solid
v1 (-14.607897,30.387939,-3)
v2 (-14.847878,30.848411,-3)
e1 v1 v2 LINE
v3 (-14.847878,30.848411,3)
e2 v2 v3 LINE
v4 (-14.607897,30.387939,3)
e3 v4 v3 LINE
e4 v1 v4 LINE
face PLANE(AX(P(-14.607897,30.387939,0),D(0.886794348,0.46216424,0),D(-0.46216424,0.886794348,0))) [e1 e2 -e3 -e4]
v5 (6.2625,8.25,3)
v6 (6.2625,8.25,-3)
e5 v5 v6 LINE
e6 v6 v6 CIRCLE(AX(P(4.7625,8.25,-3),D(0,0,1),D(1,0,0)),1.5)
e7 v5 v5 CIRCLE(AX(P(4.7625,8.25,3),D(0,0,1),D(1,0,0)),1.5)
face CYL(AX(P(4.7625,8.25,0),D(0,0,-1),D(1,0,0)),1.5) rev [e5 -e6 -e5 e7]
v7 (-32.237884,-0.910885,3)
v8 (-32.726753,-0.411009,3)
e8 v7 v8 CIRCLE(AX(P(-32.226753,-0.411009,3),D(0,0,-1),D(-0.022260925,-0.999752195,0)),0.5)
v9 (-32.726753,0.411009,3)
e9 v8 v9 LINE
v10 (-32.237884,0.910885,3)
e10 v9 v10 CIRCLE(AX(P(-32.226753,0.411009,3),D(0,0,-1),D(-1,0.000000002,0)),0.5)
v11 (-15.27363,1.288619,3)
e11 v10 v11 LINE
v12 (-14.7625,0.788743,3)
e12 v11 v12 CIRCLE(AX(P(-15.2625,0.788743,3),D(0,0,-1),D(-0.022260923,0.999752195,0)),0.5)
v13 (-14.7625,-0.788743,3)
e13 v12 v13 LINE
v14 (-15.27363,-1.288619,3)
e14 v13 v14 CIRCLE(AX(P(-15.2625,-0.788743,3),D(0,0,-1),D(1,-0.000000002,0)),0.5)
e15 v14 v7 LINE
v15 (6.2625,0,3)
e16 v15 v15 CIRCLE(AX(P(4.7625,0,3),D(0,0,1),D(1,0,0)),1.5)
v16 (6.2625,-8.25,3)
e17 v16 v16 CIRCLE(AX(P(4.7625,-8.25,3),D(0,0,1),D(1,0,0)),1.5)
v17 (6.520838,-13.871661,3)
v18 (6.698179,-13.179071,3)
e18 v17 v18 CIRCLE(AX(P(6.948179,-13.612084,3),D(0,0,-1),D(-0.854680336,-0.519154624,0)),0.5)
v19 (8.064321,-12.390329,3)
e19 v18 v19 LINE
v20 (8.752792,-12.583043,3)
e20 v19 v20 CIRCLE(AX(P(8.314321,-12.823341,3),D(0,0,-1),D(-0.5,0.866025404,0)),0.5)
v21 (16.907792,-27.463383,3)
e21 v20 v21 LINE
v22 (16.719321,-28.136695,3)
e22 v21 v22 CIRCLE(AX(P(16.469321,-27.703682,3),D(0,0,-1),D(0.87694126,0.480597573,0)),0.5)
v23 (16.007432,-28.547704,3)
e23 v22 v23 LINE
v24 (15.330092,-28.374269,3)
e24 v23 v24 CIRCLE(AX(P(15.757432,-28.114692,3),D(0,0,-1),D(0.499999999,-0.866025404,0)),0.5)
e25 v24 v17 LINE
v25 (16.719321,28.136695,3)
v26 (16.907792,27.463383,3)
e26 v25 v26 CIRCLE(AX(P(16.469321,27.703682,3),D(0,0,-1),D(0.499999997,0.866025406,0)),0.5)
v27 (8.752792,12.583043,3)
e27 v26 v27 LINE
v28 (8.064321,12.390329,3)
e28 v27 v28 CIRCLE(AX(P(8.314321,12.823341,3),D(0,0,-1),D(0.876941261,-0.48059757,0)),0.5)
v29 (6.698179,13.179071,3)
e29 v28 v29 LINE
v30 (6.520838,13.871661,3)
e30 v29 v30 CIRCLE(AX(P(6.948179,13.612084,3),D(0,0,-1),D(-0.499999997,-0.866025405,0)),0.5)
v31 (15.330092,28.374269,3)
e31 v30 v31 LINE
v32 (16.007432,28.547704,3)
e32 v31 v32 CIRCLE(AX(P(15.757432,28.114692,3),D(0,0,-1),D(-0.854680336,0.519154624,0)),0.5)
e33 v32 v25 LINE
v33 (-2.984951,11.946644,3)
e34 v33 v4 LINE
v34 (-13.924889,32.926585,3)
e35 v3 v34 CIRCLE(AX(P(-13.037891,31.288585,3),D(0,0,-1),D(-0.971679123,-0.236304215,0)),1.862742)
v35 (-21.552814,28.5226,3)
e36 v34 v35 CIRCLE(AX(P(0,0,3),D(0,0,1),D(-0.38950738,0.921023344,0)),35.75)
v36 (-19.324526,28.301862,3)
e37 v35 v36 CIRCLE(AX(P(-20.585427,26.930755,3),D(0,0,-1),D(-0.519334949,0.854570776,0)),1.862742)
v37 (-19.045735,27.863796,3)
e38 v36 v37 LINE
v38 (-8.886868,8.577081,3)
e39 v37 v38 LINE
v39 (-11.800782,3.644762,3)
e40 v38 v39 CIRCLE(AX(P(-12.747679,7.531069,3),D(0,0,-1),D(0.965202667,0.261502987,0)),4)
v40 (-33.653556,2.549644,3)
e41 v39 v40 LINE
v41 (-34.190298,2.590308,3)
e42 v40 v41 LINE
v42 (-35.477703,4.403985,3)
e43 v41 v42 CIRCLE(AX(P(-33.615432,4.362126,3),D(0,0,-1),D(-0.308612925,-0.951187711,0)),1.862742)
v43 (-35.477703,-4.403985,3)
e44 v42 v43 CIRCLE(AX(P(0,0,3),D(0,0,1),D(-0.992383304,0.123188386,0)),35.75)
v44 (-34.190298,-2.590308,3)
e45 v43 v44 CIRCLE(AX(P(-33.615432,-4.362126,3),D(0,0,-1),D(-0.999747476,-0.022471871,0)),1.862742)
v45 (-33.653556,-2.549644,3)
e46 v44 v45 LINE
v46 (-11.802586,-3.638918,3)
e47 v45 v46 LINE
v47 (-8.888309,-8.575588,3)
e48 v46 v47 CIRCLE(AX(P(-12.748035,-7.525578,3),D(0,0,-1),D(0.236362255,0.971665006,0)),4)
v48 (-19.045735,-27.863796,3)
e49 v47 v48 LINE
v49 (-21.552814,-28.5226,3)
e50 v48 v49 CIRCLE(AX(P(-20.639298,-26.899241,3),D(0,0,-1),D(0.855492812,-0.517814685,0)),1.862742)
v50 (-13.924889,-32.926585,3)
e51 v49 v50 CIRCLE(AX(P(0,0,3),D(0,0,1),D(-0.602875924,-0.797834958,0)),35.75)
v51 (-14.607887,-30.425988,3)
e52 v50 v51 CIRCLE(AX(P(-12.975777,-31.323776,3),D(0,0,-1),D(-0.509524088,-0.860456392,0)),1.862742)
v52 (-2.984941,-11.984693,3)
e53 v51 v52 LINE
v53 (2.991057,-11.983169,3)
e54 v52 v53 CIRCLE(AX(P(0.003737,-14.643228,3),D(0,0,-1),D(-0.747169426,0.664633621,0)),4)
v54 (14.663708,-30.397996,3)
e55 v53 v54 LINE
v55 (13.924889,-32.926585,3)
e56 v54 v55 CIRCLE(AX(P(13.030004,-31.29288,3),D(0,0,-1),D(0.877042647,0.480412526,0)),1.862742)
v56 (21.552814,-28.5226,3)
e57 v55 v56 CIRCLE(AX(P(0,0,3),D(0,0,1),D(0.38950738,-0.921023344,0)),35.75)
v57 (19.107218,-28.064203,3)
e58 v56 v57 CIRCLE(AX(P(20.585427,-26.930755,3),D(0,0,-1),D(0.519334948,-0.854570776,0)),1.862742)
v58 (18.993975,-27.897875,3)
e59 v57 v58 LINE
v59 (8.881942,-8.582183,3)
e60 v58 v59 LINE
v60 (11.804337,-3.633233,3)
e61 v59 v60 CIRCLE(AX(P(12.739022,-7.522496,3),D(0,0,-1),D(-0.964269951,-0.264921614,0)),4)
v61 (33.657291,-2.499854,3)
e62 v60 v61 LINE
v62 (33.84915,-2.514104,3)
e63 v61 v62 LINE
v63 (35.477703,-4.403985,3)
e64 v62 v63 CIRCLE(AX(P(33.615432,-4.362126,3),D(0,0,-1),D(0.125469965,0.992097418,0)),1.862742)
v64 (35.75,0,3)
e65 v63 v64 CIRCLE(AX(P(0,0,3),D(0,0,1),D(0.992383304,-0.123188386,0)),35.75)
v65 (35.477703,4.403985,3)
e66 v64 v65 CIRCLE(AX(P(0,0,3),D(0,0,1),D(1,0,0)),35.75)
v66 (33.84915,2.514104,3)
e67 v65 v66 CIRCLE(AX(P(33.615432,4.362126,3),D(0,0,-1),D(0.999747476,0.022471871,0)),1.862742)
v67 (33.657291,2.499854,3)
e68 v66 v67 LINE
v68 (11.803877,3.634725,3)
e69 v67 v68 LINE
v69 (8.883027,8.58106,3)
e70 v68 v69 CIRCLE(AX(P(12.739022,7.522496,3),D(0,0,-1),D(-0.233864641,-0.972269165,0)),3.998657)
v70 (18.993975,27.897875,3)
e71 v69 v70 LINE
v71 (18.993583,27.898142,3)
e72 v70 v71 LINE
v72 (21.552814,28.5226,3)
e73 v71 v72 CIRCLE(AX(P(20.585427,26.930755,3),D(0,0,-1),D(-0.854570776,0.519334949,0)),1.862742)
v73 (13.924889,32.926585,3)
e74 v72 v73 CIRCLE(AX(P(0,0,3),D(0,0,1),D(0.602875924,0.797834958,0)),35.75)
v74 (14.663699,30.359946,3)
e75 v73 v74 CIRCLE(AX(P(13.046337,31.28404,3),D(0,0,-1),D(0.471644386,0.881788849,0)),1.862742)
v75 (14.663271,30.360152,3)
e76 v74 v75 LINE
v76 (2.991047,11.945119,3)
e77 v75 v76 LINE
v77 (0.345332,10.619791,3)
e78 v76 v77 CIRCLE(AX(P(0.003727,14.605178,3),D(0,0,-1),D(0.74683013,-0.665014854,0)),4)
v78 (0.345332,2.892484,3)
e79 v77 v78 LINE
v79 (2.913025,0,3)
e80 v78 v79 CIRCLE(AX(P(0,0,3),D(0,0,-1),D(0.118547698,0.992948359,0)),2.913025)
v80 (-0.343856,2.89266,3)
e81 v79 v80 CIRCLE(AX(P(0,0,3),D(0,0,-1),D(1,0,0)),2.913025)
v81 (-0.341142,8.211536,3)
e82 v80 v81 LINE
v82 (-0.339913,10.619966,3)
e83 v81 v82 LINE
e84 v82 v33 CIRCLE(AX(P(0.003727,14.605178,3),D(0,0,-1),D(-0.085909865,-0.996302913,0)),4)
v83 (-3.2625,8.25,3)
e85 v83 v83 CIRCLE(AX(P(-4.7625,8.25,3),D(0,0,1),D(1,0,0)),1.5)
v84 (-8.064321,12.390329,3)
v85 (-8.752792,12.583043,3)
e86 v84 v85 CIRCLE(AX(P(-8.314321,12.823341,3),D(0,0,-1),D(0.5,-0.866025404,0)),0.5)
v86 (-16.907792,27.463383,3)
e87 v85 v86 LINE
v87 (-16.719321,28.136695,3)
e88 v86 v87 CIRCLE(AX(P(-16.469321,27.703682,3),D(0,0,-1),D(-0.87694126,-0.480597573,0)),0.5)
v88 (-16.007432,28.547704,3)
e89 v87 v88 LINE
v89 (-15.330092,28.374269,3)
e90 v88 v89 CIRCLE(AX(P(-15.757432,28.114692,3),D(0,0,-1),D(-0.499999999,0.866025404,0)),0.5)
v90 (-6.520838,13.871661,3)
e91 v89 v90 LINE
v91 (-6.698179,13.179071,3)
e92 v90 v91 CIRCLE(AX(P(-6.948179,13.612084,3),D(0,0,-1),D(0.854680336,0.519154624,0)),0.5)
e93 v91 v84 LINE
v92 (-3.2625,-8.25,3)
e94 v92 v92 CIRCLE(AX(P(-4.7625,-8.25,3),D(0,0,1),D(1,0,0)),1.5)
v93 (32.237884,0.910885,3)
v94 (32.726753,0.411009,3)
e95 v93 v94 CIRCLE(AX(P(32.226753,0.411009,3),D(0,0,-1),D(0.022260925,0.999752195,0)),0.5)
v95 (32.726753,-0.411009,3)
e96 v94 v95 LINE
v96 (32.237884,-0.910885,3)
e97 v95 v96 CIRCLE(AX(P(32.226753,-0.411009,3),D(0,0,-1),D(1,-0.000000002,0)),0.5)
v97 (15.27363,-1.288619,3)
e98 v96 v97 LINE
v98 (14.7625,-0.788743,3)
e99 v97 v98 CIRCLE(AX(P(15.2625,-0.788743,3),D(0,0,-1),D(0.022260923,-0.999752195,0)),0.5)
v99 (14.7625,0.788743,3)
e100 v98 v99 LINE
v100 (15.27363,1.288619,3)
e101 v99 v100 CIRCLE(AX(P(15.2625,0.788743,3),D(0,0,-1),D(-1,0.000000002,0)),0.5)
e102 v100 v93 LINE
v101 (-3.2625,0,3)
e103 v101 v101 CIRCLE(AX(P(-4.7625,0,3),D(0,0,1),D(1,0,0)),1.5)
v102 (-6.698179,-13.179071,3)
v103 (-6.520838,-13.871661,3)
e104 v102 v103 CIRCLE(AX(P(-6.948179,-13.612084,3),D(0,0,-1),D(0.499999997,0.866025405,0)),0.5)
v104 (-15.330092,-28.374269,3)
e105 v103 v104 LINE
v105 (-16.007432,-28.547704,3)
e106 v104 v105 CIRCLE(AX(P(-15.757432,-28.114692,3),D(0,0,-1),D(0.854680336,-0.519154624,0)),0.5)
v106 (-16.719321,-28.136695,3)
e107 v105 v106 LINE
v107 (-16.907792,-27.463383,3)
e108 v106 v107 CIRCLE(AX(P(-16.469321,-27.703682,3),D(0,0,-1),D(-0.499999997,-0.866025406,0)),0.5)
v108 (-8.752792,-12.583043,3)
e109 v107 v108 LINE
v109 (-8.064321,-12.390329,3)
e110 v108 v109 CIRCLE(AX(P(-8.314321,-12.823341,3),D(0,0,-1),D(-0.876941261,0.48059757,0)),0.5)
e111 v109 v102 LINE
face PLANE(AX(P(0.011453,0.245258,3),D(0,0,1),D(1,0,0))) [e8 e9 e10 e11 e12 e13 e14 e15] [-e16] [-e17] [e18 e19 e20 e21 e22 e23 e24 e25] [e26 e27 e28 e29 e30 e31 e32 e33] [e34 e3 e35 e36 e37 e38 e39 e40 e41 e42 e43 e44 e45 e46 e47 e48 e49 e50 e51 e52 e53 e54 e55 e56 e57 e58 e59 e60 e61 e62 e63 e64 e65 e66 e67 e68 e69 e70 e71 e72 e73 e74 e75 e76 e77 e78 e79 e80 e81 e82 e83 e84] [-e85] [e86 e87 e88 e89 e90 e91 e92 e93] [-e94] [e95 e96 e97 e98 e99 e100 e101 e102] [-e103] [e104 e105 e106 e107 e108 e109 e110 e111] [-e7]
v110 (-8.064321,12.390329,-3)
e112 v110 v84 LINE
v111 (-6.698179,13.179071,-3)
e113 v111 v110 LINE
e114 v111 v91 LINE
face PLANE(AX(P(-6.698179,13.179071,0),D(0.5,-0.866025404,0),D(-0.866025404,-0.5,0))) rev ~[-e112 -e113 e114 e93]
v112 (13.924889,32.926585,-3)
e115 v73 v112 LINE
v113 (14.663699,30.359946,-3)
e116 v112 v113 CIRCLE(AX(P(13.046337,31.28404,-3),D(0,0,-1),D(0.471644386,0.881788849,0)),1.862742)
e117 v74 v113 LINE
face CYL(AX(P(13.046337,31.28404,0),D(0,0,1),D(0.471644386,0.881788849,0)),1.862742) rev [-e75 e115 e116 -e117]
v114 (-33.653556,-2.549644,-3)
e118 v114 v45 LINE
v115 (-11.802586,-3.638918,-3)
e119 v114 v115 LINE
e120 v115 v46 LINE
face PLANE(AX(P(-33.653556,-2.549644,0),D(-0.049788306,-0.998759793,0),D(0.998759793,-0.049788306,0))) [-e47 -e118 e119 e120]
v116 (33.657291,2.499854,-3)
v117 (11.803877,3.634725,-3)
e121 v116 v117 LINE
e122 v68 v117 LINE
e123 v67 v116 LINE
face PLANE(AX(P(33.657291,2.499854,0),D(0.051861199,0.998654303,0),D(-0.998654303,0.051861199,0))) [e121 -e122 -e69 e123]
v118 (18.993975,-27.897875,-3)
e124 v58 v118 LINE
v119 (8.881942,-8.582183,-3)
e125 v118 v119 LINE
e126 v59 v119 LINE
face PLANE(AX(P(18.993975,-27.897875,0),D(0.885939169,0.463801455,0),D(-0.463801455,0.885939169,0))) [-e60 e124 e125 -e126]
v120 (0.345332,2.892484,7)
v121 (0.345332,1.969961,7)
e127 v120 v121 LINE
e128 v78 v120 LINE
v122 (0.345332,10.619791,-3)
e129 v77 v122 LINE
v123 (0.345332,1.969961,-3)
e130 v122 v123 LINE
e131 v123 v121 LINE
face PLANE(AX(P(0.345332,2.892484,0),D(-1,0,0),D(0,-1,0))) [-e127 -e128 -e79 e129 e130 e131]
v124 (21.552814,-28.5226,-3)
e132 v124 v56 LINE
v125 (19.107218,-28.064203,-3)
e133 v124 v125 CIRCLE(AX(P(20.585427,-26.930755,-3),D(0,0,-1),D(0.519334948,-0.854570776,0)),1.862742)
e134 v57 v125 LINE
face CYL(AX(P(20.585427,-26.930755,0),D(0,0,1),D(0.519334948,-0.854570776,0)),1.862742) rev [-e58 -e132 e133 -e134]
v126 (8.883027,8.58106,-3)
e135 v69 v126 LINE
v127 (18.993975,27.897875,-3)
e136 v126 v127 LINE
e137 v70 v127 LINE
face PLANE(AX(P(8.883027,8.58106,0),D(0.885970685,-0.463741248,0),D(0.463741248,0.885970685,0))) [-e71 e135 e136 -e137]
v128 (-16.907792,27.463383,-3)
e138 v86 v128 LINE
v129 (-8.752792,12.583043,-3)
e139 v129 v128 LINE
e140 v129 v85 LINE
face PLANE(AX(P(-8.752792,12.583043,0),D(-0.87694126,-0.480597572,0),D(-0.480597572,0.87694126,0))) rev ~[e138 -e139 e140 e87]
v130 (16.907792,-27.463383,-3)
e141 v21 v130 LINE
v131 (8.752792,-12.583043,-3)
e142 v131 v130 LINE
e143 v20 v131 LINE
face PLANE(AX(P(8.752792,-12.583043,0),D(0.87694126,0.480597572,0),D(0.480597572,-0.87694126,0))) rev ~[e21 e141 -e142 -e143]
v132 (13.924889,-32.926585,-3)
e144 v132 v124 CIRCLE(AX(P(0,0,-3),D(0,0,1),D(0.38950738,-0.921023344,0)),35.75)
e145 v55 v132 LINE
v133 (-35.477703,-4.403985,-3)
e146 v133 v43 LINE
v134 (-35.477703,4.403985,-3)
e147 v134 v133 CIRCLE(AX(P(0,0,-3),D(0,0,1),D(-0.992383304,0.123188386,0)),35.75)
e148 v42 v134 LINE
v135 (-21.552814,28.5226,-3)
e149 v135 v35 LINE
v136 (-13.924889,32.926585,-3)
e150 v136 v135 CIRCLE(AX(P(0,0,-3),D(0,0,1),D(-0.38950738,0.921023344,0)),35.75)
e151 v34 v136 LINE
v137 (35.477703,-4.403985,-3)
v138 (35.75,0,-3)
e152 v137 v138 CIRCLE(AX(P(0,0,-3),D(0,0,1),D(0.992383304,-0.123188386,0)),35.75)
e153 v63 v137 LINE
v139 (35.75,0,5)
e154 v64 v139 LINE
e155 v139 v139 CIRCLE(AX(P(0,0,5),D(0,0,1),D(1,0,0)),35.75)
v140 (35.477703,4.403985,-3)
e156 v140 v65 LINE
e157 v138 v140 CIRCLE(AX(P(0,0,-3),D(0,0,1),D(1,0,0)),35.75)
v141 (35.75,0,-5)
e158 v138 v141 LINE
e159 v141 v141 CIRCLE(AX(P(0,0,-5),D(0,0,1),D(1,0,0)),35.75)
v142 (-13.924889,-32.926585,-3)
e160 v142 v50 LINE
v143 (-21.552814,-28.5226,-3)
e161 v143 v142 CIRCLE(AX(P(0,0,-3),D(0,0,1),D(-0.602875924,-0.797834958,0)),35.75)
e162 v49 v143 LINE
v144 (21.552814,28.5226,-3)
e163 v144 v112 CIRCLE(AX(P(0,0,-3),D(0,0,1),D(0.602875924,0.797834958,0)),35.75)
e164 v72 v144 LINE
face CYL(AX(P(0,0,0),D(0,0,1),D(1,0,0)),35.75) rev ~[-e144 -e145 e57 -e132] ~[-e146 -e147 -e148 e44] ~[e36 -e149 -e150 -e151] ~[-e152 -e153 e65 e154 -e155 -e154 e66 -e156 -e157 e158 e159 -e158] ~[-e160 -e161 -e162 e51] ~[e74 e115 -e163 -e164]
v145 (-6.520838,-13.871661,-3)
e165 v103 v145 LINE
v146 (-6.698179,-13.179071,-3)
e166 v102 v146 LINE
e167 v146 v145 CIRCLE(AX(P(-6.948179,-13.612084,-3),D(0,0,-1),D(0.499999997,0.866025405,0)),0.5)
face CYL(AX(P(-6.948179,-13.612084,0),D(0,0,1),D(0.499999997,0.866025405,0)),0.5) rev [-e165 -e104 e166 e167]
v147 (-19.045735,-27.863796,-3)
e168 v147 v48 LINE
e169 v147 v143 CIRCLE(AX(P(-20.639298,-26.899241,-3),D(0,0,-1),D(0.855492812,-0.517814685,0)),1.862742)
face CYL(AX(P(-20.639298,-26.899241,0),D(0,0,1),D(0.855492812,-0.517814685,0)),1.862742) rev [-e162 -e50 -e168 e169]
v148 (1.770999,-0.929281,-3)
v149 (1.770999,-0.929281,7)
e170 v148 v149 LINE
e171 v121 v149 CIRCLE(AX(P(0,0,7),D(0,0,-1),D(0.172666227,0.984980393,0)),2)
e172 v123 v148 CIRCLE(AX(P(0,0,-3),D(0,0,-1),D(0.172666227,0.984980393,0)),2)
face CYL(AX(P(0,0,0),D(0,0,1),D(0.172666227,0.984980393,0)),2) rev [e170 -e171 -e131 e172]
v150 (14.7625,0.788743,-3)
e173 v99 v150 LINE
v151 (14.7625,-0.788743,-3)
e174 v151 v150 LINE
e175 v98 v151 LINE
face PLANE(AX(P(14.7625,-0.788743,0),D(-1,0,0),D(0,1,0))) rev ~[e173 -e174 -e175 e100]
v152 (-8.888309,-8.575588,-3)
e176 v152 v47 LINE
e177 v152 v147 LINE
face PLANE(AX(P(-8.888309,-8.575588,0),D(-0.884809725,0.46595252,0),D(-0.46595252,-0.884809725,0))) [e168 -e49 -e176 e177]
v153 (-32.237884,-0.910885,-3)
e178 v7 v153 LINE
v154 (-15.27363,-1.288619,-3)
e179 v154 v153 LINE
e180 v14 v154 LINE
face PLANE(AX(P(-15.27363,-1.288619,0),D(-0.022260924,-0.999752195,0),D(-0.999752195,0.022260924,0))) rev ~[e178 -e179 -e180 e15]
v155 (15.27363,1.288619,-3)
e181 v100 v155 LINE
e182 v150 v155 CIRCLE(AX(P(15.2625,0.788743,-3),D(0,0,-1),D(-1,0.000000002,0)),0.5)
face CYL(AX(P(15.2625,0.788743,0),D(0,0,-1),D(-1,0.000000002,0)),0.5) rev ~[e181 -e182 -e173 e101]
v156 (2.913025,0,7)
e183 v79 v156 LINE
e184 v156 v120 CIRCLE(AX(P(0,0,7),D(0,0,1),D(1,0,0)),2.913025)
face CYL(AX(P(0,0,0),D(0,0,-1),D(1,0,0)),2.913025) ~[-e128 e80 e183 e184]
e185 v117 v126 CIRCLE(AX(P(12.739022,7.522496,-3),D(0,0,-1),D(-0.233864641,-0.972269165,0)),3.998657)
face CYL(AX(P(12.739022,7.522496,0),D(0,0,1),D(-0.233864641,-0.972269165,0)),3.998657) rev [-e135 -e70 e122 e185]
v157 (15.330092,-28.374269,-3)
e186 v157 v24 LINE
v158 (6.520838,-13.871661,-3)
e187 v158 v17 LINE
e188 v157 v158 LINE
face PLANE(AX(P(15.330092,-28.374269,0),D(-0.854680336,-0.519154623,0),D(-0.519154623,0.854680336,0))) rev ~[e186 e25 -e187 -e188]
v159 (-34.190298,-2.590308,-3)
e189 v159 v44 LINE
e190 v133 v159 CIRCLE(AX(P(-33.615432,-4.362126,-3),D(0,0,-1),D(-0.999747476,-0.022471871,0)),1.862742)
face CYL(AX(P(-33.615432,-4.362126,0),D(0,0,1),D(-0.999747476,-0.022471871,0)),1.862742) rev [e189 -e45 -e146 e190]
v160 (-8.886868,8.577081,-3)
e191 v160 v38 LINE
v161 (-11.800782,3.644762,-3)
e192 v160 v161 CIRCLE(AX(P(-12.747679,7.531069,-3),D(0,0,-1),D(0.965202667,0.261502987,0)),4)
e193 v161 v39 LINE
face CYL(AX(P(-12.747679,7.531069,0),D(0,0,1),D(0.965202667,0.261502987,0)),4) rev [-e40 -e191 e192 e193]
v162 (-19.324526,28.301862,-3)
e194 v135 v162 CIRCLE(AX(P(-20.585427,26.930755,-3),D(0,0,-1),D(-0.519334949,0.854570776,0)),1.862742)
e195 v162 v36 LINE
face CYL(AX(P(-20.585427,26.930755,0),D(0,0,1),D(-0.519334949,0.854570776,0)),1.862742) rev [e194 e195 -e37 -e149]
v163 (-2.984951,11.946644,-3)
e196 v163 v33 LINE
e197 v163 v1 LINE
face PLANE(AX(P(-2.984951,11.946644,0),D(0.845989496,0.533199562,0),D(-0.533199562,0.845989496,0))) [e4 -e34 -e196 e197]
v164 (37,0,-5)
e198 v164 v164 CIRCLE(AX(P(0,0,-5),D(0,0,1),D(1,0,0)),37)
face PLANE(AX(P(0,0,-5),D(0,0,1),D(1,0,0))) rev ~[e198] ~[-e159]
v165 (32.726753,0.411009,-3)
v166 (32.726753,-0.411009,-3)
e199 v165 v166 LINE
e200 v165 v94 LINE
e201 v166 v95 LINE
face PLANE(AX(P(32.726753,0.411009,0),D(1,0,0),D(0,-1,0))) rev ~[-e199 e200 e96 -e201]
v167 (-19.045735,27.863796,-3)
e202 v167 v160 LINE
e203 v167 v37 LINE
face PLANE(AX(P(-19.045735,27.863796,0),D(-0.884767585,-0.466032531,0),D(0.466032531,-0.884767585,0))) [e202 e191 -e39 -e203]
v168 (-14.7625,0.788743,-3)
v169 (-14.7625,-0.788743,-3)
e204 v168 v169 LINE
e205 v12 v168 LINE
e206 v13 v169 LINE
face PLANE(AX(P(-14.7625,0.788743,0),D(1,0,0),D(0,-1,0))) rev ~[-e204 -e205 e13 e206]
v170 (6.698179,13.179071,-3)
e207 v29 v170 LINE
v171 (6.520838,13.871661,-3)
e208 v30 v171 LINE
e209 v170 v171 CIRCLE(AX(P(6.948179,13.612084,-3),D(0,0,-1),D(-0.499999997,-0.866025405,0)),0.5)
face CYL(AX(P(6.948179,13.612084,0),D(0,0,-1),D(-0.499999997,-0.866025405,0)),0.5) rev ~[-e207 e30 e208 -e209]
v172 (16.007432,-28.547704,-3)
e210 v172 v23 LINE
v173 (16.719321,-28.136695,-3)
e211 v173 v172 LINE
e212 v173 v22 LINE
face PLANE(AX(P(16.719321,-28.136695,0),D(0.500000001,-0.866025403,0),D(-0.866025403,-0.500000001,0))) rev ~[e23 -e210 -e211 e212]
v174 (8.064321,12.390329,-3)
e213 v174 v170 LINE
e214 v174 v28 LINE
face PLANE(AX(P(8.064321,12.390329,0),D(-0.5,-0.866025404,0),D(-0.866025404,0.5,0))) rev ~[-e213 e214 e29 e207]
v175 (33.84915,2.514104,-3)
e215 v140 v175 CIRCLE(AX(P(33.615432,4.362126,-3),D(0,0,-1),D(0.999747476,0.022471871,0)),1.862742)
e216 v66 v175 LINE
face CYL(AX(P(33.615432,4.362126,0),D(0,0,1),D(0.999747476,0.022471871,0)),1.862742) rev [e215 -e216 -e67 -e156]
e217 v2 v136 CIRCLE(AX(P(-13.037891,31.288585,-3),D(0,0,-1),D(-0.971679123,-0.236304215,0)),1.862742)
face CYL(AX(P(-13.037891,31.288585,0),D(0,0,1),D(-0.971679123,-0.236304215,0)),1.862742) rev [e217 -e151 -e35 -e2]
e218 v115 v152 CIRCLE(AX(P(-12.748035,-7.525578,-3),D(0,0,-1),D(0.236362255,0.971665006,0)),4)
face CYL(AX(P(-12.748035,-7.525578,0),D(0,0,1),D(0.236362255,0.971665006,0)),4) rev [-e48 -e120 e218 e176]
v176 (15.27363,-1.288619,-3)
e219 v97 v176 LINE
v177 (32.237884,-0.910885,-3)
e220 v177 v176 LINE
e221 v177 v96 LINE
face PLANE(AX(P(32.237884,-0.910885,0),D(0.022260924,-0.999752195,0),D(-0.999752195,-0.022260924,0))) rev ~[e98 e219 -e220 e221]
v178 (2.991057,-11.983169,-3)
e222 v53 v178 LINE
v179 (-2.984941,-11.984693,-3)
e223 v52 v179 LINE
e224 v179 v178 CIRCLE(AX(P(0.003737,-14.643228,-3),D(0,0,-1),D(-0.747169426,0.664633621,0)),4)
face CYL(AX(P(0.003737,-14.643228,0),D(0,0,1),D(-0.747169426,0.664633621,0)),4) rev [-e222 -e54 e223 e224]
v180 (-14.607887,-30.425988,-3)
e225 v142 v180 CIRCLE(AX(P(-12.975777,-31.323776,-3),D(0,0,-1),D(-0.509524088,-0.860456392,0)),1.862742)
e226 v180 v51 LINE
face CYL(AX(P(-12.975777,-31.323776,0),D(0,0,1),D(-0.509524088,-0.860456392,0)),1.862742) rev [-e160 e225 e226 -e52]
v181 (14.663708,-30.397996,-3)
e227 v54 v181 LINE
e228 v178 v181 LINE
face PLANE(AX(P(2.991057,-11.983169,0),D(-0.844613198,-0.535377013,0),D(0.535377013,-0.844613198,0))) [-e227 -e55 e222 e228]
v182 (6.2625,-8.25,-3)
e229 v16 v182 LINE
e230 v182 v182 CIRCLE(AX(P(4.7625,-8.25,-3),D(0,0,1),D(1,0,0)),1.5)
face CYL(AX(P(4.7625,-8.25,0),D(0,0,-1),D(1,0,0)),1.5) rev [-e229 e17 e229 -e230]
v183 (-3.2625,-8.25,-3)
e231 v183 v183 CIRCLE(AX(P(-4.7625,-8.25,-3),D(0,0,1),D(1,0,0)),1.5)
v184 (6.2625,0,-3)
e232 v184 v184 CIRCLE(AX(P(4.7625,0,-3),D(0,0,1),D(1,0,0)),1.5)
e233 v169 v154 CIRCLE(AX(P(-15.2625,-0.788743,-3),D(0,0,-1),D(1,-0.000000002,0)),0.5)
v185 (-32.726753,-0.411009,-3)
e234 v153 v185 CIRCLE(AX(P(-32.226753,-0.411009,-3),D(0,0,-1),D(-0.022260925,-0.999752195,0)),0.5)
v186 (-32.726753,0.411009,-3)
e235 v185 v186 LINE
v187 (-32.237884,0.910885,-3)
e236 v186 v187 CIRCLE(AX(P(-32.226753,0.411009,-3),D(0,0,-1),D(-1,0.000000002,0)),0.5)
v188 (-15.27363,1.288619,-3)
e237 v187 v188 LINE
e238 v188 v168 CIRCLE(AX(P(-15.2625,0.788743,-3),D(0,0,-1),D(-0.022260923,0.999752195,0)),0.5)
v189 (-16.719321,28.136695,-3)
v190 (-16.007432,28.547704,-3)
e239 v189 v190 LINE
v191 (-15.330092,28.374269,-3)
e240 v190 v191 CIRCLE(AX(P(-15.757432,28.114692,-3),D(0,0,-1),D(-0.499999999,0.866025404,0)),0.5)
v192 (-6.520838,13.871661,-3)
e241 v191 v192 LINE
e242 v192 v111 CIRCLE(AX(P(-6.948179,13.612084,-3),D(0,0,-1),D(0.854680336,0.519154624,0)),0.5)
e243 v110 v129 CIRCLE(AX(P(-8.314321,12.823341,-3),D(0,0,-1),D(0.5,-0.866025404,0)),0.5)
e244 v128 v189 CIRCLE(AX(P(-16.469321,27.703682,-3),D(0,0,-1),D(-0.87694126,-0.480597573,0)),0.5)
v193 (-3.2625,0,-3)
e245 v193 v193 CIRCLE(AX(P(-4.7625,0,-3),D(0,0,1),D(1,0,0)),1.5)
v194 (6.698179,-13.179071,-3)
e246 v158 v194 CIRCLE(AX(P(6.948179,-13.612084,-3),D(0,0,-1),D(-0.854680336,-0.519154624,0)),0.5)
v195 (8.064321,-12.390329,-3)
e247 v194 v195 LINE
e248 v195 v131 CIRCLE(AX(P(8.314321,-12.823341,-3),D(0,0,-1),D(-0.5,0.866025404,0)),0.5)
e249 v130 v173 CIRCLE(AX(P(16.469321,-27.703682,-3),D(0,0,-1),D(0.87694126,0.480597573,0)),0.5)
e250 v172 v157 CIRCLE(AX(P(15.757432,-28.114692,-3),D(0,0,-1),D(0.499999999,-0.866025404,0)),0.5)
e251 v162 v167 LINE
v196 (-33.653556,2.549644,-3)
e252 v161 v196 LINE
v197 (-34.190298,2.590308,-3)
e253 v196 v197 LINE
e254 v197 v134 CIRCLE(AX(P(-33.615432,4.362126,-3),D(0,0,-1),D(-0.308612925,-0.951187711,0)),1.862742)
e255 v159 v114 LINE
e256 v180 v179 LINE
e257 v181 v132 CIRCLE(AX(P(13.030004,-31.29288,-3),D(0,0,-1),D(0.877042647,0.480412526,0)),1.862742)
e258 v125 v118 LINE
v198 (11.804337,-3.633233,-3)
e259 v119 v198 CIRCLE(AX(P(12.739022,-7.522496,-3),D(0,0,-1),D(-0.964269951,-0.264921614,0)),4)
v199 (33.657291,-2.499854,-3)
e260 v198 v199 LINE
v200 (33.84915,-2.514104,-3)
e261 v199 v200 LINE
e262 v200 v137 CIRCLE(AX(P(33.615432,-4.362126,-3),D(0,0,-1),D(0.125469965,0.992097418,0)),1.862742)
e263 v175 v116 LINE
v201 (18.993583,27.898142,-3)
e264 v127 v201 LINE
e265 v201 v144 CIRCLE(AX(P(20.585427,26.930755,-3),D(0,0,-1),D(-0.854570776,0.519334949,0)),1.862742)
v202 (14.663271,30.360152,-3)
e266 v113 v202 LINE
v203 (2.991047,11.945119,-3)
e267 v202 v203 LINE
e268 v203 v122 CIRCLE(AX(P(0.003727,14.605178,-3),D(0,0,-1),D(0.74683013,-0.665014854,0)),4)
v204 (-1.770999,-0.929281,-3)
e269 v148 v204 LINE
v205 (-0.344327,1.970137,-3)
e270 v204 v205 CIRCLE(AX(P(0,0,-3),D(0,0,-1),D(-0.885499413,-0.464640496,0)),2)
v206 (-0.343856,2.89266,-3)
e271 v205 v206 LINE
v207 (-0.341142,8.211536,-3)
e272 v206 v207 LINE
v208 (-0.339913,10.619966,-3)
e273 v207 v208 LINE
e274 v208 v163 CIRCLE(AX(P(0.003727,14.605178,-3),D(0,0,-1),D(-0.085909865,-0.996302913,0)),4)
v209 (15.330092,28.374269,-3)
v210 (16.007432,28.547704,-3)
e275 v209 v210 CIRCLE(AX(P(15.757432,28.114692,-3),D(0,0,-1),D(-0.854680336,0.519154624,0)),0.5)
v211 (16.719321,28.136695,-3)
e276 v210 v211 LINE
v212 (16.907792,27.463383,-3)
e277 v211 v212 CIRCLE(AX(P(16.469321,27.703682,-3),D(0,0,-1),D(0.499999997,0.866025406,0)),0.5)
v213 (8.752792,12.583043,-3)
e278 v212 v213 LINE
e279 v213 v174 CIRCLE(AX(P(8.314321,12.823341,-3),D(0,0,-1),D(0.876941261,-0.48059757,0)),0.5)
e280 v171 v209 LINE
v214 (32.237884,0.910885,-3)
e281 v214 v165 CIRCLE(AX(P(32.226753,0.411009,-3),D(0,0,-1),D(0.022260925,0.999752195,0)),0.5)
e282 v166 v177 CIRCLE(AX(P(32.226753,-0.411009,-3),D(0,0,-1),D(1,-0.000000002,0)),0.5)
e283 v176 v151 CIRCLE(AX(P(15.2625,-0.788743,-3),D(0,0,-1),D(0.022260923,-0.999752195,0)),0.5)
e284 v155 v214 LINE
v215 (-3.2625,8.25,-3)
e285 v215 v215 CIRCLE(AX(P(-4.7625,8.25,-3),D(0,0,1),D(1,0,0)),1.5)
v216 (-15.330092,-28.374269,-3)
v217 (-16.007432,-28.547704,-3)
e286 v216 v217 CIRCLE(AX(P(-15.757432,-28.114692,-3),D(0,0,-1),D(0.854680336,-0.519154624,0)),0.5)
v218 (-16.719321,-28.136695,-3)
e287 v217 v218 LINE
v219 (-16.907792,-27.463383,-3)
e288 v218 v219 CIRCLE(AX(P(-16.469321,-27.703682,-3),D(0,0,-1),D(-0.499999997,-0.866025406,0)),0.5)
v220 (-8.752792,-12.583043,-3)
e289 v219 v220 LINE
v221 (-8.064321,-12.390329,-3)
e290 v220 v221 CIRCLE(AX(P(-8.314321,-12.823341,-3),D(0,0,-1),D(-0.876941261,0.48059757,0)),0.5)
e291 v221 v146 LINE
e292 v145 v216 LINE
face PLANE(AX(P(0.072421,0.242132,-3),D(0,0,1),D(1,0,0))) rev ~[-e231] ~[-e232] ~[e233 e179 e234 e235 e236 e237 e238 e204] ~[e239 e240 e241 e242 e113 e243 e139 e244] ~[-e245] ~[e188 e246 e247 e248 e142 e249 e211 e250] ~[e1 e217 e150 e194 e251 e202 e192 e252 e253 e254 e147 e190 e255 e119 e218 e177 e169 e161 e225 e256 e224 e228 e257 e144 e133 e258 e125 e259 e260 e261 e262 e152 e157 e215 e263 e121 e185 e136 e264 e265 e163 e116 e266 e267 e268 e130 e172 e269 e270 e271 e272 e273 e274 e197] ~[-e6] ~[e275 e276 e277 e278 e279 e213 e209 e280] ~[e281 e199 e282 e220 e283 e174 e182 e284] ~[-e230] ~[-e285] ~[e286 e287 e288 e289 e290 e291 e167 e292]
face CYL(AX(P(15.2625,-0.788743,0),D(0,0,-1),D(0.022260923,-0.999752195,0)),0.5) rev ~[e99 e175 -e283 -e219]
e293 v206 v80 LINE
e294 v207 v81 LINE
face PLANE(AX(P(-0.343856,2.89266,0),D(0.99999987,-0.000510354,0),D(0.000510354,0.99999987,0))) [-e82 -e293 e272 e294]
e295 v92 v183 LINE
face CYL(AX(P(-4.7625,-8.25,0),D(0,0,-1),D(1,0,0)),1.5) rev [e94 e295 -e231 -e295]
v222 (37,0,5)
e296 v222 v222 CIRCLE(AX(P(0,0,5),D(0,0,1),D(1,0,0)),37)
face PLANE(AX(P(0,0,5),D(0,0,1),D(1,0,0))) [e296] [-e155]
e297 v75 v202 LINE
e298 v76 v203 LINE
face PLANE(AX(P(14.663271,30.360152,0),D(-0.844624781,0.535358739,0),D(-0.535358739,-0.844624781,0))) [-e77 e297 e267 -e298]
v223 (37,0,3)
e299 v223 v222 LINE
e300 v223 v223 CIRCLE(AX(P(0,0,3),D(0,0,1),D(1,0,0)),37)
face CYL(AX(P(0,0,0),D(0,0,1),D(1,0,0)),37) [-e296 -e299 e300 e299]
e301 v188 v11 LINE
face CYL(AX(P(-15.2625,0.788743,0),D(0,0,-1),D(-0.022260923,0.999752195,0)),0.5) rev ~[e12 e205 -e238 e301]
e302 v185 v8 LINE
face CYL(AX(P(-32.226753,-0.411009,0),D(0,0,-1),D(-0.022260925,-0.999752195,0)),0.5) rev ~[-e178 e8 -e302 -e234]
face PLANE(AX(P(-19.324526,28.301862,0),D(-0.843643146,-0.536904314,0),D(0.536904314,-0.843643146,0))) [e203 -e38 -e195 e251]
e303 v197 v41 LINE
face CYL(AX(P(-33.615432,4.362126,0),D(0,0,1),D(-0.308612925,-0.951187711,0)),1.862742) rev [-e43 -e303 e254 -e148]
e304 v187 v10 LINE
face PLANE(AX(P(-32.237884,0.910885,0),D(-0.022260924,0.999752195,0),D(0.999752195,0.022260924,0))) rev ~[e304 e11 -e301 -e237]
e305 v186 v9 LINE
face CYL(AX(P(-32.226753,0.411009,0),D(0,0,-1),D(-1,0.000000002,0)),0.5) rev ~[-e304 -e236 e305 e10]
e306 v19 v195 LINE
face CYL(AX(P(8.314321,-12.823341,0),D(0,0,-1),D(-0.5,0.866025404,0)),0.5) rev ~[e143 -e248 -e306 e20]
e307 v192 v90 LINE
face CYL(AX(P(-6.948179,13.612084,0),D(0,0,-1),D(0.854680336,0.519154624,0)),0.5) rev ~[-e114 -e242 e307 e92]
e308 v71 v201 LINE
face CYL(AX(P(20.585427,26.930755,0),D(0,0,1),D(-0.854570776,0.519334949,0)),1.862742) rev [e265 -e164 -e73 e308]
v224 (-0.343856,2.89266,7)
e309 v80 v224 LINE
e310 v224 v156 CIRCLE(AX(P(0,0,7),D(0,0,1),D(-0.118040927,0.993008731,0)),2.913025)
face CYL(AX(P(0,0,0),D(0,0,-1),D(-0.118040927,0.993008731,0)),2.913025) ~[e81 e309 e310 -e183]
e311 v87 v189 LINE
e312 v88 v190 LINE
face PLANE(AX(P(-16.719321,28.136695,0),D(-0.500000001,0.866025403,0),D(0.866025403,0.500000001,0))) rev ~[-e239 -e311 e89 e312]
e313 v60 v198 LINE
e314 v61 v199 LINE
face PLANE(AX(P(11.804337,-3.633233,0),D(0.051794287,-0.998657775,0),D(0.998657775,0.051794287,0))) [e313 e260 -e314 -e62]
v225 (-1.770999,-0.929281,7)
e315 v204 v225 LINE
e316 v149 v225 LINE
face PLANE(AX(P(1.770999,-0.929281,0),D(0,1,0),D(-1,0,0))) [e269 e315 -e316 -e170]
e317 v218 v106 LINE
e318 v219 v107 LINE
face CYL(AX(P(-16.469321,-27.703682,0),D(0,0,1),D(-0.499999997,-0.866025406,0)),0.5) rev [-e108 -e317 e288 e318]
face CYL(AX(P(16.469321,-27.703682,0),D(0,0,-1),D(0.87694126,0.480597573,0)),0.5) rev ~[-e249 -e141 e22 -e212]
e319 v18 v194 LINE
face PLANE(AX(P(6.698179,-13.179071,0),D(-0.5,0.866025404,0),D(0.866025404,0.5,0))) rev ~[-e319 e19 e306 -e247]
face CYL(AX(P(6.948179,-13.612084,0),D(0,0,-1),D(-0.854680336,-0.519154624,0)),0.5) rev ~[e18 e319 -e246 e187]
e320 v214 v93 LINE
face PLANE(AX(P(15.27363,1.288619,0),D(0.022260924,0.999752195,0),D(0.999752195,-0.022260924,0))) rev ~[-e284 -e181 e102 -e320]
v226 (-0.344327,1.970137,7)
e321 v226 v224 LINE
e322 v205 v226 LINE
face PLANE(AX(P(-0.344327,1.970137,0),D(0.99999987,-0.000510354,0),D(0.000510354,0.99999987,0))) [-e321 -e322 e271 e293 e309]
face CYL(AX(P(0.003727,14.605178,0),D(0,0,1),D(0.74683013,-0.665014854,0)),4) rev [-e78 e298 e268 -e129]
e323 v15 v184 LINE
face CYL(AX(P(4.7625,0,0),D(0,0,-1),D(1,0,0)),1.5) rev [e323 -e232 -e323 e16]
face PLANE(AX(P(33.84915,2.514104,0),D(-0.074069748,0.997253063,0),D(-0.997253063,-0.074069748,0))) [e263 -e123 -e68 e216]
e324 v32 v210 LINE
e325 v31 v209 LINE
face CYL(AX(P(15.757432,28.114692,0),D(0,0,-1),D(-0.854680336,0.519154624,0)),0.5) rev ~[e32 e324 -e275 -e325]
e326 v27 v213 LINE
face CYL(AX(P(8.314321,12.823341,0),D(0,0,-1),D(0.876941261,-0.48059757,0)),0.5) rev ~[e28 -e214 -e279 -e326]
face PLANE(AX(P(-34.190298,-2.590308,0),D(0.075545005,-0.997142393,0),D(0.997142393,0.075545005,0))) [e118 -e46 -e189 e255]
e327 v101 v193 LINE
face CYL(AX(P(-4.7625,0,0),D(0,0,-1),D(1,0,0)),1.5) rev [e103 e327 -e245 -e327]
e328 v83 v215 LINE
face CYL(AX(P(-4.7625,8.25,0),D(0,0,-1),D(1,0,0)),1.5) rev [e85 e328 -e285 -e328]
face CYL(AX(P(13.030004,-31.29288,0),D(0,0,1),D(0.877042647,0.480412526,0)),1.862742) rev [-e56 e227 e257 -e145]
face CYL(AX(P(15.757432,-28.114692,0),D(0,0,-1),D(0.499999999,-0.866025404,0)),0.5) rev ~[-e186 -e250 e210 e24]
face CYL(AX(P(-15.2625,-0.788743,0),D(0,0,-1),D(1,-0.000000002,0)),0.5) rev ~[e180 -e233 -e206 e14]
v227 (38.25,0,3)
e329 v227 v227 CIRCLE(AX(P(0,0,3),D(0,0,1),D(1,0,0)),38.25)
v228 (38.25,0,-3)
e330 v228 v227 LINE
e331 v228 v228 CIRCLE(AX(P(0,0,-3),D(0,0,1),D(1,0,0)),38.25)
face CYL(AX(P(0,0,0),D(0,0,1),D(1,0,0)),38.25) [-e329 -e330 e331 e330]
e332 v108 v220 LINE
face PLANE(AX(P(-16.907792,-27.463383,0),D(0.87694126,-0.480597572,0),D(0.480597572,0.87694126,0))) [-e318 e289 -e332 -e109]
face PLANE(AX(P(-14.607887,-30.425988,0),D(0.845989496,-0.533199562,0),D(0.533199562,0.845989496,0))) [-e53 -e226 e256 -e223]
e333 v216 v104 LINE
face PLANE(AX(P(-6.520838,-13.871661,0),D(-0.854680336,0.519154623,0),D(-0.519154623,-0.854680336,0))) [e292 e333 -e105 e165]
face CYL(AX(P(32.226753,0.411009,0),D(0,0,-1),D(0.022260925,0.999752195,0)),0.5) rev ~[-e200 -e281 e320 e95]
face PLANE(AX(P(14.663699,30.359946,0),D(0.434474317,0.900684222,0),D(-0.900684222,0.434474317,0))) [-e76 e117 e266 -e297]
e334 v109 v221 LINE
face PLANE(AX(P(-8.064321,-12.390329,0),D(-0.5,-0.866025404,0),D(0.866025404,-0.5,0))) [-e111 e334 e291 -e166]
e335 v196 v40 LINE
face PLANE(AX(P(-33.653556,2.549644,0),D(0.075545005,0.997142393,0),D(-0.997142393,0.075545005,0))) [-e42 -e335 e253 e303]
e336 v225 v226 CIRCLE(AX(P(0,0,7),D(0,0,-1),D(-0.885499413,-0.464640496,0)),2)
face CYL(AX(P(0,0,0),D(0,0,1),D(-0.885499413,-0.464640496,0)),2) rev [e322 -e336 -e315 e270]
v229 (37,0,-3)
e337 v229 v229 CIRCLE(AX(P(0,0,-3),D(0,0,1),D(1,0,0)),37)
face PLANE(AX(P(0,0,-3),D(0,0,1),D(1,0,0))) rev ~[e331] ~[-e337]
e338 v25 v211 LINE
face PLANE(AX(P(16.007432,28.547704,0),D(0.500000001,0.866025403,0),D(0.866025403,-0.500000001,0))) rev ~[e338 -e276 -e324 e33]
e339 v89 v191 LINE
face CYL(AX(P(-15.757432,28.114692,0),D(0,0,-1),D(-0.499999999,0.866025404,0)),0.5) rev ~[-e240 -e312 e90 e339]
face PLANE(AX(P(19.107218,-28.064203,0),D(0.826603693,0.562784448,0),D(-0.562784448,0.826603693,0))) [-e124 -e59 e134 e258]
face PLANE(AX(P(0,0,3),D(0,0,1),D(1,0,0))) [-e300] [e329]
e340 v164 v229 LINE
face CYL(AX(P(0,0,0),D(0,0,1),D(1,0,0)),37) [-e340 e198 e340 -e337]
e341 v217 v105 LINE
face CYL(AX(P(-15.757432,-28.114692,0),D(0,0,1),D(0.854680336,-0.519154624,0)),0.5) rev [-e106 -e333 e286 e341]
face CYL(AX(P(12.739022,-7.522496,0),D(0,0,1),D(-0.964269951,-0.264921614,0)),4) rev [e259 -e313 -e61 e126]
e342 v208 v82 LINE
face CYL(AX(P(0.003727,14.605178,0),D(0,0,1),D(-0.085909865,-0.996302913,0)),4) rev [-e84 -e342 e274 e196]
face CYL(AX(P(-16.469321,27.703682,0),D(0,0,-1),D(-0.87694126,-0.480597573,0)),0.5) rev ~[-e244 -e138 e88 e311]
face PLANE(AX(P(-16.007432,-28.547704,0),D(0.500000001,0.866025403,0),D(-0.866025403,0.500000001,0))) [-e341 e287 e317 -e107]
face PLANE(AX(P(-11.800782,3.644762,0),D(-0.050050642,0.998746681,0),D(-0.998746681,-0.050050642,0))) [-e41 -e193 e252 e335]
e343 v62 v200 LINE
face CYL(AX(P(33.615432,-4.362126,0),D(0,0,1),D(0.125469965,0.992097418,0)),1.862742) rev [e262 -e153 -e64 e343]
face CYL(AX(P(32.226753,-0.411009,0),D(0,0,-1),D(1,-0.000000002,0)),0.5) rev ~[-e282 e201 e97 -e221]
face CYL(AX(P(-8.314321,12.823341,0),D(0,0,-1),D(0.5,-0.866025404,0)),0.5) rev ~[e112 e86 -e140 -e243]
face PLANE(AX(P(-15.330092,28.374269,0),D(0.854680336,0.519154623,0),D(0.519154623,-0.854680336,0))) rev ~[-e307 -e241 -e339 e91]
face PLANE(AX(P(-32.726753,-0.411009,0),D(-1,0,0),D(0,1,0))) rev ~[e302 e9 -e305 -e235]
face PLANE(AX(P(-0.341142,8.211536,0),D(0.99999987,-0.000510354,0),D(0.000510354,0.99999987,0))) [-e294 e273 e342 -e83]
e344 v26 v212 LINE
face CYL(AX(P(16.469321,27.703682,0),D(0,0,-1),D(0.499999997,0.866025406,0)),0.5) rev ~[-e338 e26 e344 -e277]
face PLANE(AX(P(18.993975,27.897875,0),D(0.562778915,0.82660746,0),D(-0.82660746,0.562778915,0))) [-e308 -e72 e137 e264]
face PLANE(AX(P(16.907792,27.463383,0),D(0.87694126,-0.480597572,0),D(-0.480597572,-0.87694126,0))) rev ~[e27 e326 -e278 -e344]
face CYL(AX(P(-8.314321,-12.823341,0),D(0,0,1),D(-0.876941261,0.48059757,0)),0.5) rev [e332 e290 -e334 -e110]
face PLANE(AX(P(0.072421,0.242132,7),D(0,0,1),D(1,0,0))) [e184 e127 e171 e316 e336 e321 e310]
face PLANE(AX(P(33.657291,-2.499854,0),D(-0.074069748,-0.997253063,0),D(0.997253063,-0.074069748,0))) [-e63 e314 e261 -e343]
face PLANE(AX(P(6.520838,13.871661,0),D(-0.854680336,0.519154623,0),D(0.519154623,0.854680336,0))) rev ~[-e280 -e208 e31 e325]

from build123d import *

# Parameters (mm, degrees)
IZIM1_R                          = 37
IZIM1_R_2                        = 35.75
Y_KSEKLIK_EKSTR_ZYON5_DEPTH      = 5
Y_KSEKLIK_EKSTR_ZYON5_DEPTH_BACK = 5
IZIM1_13_R                       = 38.25
IZIM1_13_R_2                     = 37
Y_KSEKLIK_EKSTR_ZYON6_DEPTH      = 3
Y_KSEKLIK_EKSTR_ZYON6_DEPTH_BACK = 3
IZIM1_14_R                       = 1.5
Y_KSEKLIK_EKSTR_ZYON7_DEPTH      = 3
Y_KSEKLIK_EKSTR_ZYON7_DEPTH_BACK = 3
Y_KSEKLIK_EKSTR_ZYON8_DEPTH      = 7
Y_KSEKLIK_EKSTR_ZYON8_DEPTH_BACK = 3


with BuildPart() as part:
    # izim1 → Y_kseklik-Ekstr_zyon5 (new body, two sides)
    with BuildSketch(Plane.XY) as y_kseklik_ekstr_zyon5_sk:
        Circle(IZIM1_R)
        Circle(IZIM1_R_2, mode=Mode.SUBTRACT)
    extrude(amount=Y_KSEKLIK_EKSTR_ZYON5_DEPTH)
    extrude(y_kseklik_ekstr_zyon5_sk.sketch, amount=-Y_KSEKLIK_EKSTR_ZYON5_DEPTH_BACK)

    # izim1_13 → Y_kseklik-Ekstr_zyon6 (add, two sides)
    with BuildSketch(Plane.XY) as y_kseklik_ekstr_zyon6_sk:
        Circle(IZIM1_13_R)
        Circle(IZIM1_13_R_2, mode=Mode.SUBTRACT)
    extrude(amount=Y_KSEKLIK_EKSTR_ZYON6_DEPTH)
    extrude(y_kseklik_ekstr_zyon6_sk.sketch, amount=-Y_KSEKLIK_EKSTR_ZYON6_DEPTH_BACK)

    # izim1_14 → Y_kseklik-Ekstr_zyon7 (add, two sides)
    with BuildSketch(Plane.XY) as y_kseklik_ekstr_zyon7_sk:
        with BuildLine():
            Line((0.345332455, 10.619791473), (0.345332455, 8.211364581))
            Line((0.345332455, 8.211364581), (0.345332455, 2.892483792))
            ThreePointArc((0.345332455, 2.892483792), (2.178494802, 1.93387626), (2.913025402, 0))
            ThreePointArc((2.913025402, 0), (-1.934432099, -2.17800125), (-0.343856219, 2.892659657))
            Line((-0.343856219, 2.892659657), (-0.341141708, 8.211536302))
            Line((-0.341141708, 8.211536302), (-0.339912555, 10.619966332))
            ThreePointArc((-0.339912555, 10.619966332), (-1.789622614, 11.029720322), (-2.984950797, 11.946643504))
            Line((-2.984950797, 11.946643504), (-14.607897055, 30.387938553))
            Line((-14.607897055, 30.387938553), (-14.847878363, 30.848411366))
            ThreePointArc((-14.847878363, 30.848411366), (-14.740281438, 32.044676397), (-13.92488883, 32.926584565))
            ThreePointArc((-13.92488883, 32.926584565), (-17.875, 30.960408185), (-21.552814278, 28.522599754))
            ThreePointArc((-21.552814278, 28.522599754), (-20.401800041, 28.78442387), (-19.324525803, 28.301862102))
            Line((-19.324525803, 28.301862102), (-19.045735303, 27.863795787))
            Line((-19.045735303, 27.863795787), (-8.886868167, 8.577081355))
            ThreePointArc((-8.886868167, 8.577081355), (-9.303777514, 5.496482546), (-11.800782256, 3.644761794))
            Line((-11.800782256, 3.644761794), (-33.653555768, 2.549643924))
            Line((-33.653555768, 2.549643924), (-34.19029782, 2.590308308))
            ThreePointArc((-34.19029782, 2.590308308), (-35.134400226, 3.283913251), (-35.477703108, 4.403984811))
            ThreePointArc((-35.477703108, 4.403984811), (-35.75, 0), (-35.477703108, -4.403984811))
            ThreePointArc((-35.477703108, -4.403984811), (-35.134400226, -3.283913251), (-34.19029782, -2.590308308))
            Line((-34.19029782, -2.590308308), (-33.653555768, -2.549643924))
            Line((-33.653555768, -2.549643924), (-11.802585687, -3.638917628))
            ThreePointArc((-11.802585687, -3.638917628), (-9.303458853, -5.492132995), (-8.888309481, -8.575587733))
            Line((-8.888309481, -8.575587733), (-19.045735303, -27.863795787))
            ThreePointArc((-19.045735303, -27.863795787), (-20.165883221, -28.700819486), (-21.552814278, -28.522599754))
            ThreePointArc((-21.552814278, -28.522599754), (-17.875, -30.960408185), (-13.92488883, -32.926584565))
            ThreePointArc((-13.92488883, -32.926584565), (-14.772697173, -31.814576902), (-14.607887345, -30.4259885))
            Line((-14.607887345, -30.4259885), (-2.984941087, -11.98469345))
            ThreePointArc((-2.984941087, -11.98469345), (0.002715908, -10.643228062), (2.991057136, -11.983168513))
            Line((2.991057136, -11.983168513), (14.663708375, -30.397995932))
            ThreePointArc((14.663708375, -30.397995932), (14.817986455, -31.815304786), (13.92488883, -32.926584565))
            ThreePointArc((13.92488883, -32.926584565), (17.875, -30.960408185), (21.552814278, -28.522599754))
            ThreePointArc((21.552814278, -28.522599754), (20.242255546, -28.76161283), (19.107217792, -28.064202809))
            Line((19.107217792, -28.064202809), (18.993975038, -27.89787469))
            Line((18.993975038, -27.89787469), (8.881942007, -8.582182507))
            ThreePointArc((8.881942007, -8.582182507), (9.294710999, -5.488602486), (11.804336715, -3.633233425))
            Line((11.804336715, -3.633233425), (33.657290889, -2.499854))
            Line((33.657290889, -2.499854), (33.849149755, -2.514104082))
            ThreePointArc((33.849149755, -2.514104082), (35.026532395, -3.146147751), (35.477703108, -4.403984811))
            ThreePointArc((35.477703108, -4.403984811), (35.681860841, -2.206197397), (35.75, 0))
            ThreePointArc((35.75, 0), (35.681860841, 2.206197397), (35.477703108, 4.403984811))
            ThreePointArc((35.477703108, 4.403984811), (35.026532395, 3.146147751), (33.849149755, 2.514104082))
            Line((33.849149755, 2.514104082), (33.657290889, 2.499854))
            Line((33.657290889, 2.499854), (11.803877394, 3.634725418))
            ThreePointArc((11.803877394, 3.634725418), (9.295867667, 5.489285508), (8.88302669, 8.581059795))
            Line((8.88302669, 8.581059795), (18.993975038, 27.89787469))
            Line((18.993975038, 27.89787469), (18.993582514, 27.898141932))
            ThreePointArc((18.993582514, 27.898141932), (20.143868947, 28.740405096), (21.552814278, 28.522599754))
            ThreePointArc((21.552814278, 28.522599754), (17.875, 30.960408185), (13.92488883, 32.926584565))
            ThreePointArc((13.92488883, 32.926584565), (14.836394127, 31.799309486), (14.663698665, 30.359945986))
            Line((14.663698665, 30.359945986), (14.663270965, 30.360152301))
            Line((14.663270965, 30.360152301), (2.991047427, 11.945118566))
            ThreePointArc((2.991047427, 11.945118566), (1.795251444, 11.028805544), (0.345332455, 10.619791473))
        make_face()
        with BuildLine():
            ThreePointArc((-15.330091906, -28.374268836), (-15.633406502, -28.599064993), (-16.007432074, -28.547704226))
            Line((-16.007432074, -28.547704226), (-16.719321042, -28.136694938))
            ThreePointArc((-16.719321042, -28.136694938), (-16.950813558, -27.838459675), (-16.907791673, -27.46338345))
            Line((-16.907791673, -27.46338345), (-8.752791972, -12.583042517))
            ThreePointArc((-8.752791972, -12.583042517), (-8.44909878, -12.341848787), (-8.064321341, -12.3903286))
            Line((-8.064321341, -12.3903286), (-6.698178659, -13.179071446))
            ThreePointArc((-6.698178659, -13.179071446), (-6.463805189, -13.488058576), (-6.52083849, -13.87166146))
            Line((-6.52083849, -13.87166146), (-15.330091906, -28.374268836))
        make_face(mode=Mode.SUBTRACT)
        with Locations((-4.7625, -8.25)):
            Circle(IZIM1_14_R, mode=Mode.SUBTRACT)
        with BuildLine():
            Line((16.719321042, -28.136694938), (16.007432074, -28.547704226))
            ThreePointArc((16.007432074, -28.547704226), (15.633406502, -28.599064993), (15.330091906, -28.374268836))
            Line((15.330091906, -28.374268836), (6.52083849, -13.87166146))
            ThreePointArc((6.52083849, -13.87166146), (6.463805189, -13.488058576), (6.698178659, -13.179071446))
            Line((6.698178659, -13.179071446), (8.064321341, -12.3903286))
            ThreePointArc((8.064321341, -12.3903286), (8.44909878, -12.341848787), (8.752791972, -12.583042517))
            Line((8.752791972, -12.583042517), (16.907791673, -27.46338345))
            ThreePointArc((16.907791673, -27.46338345), (16.950813558, -27.838459675), (16.719321042, -28.136694938))
        make_face(mode=Mode.SUBTRACT)
        with Locations((4.7625, -8.25)):
            Circle(IZIM1_14_R, mode=Mode.SUBTRACT)
        with BuildLine():
            Line((-32.726753116, -0.411009288), (-32.726753116, 0.411009288))
            ThreePointArc((-32.726753116, 0.411009288), (-32.584220059, 0.760605318), (-32.237883578, 0.910885385))
            Line((-32.237883578, 0.910885385), (-15.273630462, 1.288618943))
            ThreePointArc((-15.273630462, 1.288618943), (-14.91290397, 1.146209789), (-14.7625, 0.788742846))
            Line((-14.7625, 0.788742846), (-14.7625, -0.788742846))
            ThreePointArc((-14.7625, -0.788742846), (-14.91290397, -1.146209789), (-15.273630462, -1.288618943))
            Line((-15.273630462, -1.288618943), (-32.237883578, -0.910885385))
            ThreePointArc((-32.237883578, -0.910885385), (-32.584220059, -0.760605318), (-32.726753116, -0.411009288))
        make_face(mode=Mode.SUBTRACT)
        with Locations((-4.7625, 0)):
            Circle(IZIM1_14_R, mode=Mode.SUBTRACT)
        with Locations((-4.7625, 8.25)):
            Circle(IZIM1_14_R, mode=Mode.SUBTRACT)
        with BuildLine():
            ThreePointArc((-6.52083849, 13.87166146), (-6.463805189, 13.488058576), (-6.698178659, 13.179071446))
            Line((-6.698178659, 13.179071446), (-8.064321341, 12.3903286))
            ThreePointArc((-8.064321341, 12.3903286), (-8.44909878, 12.341848787), (-8.752791972, 12.583042517))
            Line((-8.752791972, 12.583042517), (-16.907791673, 27.46338345))
            ThreePointArc((-16.907791673, 27.46338345), (-16.950813558, 27.838459675), (-16.719321042, 28.136694938))
            Line((-16.719321042, 28.136694938), (-16.007432074, 28.547704226))
            ThreePointArc((-16.007432074, 28.547704226), (-15.633406502, 28.599064993), (-15.330091906, 28.374268836))
            Line((-15.330091906, 28.374268836), (-6.52083849, 13.87166146))
        make_face(mode=Mode.SUBTRACT)
        with Locations((4.7625, 0)):
            Circle(IZIM1_14_R, mode=Mode.SUBTRACT)
        with Locations((4.7625, 8.25)):
            Circle(IZIM1_14_R, mode=Mode.SUBTRACT)
        with BuildLine():
            ThreePointArc((32.237883578, 0.910885385), (32.584220059, 0.760605318), (32.726753116, 0.411009288))
            Line((32.726753116, 0.411009288), (32.726753116, -0.411009288))
            ThreePointArc((32.726753116, -0.411009288), (32.584220059, -0.760605318), (32.237883578, -0.910885385))
            Line((32.237883578, -0.910885385), (15.273630462, -1.288618943))
            ThreePointArc((15.273630462, -1.288618943), (14.91290397, -1.146209789), (14.7625, -0.788742846))
            Line((14.7625, -0.788742846), (14.7625, 0.788742846))
            ThreePointArc((14.7625, 0.788742846), (14.91290397, 1.146209789), (15.273630462, 1.288618943))
            Line((15.273630462, 1.288618943), (32.237883578, 0.910885385))
        make_face(mode=Mode.SUBTRACT)
        with BuildLine():
            Line((8.064321341, 12.3903286), (6.698178659, 13.179071446))
            ThreePointArc((6.698178659, 13.179071446), (6.463805189, 13.488058576), (6.52083849, 13.87166146))
            Line((6.52083849, 13.87166146), (15.330091906, 28.374268836))
            ThreePointArc((15.330091906, 28.374268836), (15.633406502, 28.599064993), (16.007432074, 28.547704226))
            Line((16.007432074, 28.547704226), (16.719321042, 28.136694938))
            ThreePointArc((16.719321042, 28.136694938), (16.950813558, 27.838459675), (16.907791673, 27.46338345))
            Line((16.907791673, 27.46338345), (8.752791972, 12.583042517))
            ThreePointArc((8.752791972, 12.583042517), (8.44909878, 12.341848787), (8.064321341, 12.3903286))
        make_face(mode=Mode.SUBTRACT)
    extrude(amount=Y_KSEKLIK_EKSTR_ZYON7_DEPTH)
    extrude(y_kseklik_ekstr_zyon7_sk.sketch, amount=-Y_KSEKLIK_EKSTR_ZYON7_DEPTH_BACK)

    # izim1_17 → Y_kseklik-Ekstr_zyon8 (add, two sides)
    with BuildSketch(Plane.XY) as y_kseklik_ekstr_zyon8_sk:
        with BuildLine():
            ThreePointArc((2.913025402, 0), (2.178494802, 1.93387626), (0.345332455, 2.892483792))
            Line((0.345332455, 2.892483792), (0.345332455, 1.969960785))
            ThreePointArc((0.345332455, 1.969960785), (1.794746568, 0.882544479), (1.770998825, -0.929280992))
            Line((1.770998825, -0.929280992), (-1.770998825, -0.929280992))
            ThreePointArc((-1.770998825, -0.929280992), (-1.794521304, 0.883002429), (-0.344327032, 1.970136771))
            Line((-0.344327032, 1.970136771), (-0.343856219, 2.892659657))
            ThreePointArc((-0.343856219, 2.892659657), (-1.934432099, -2.17800125), (2.913025402, 0))
        make_face()
    extrude(amount=Y_KSEKLIK_EKSTR_ZYON8_DEPTH)
    extrude(y_kseklik_ekstr_zyon8_sk.sketch, amount=-Y_KSEKLIK_EKSTR_ZYON8_DEPTH_BACK)


solid = part.part
